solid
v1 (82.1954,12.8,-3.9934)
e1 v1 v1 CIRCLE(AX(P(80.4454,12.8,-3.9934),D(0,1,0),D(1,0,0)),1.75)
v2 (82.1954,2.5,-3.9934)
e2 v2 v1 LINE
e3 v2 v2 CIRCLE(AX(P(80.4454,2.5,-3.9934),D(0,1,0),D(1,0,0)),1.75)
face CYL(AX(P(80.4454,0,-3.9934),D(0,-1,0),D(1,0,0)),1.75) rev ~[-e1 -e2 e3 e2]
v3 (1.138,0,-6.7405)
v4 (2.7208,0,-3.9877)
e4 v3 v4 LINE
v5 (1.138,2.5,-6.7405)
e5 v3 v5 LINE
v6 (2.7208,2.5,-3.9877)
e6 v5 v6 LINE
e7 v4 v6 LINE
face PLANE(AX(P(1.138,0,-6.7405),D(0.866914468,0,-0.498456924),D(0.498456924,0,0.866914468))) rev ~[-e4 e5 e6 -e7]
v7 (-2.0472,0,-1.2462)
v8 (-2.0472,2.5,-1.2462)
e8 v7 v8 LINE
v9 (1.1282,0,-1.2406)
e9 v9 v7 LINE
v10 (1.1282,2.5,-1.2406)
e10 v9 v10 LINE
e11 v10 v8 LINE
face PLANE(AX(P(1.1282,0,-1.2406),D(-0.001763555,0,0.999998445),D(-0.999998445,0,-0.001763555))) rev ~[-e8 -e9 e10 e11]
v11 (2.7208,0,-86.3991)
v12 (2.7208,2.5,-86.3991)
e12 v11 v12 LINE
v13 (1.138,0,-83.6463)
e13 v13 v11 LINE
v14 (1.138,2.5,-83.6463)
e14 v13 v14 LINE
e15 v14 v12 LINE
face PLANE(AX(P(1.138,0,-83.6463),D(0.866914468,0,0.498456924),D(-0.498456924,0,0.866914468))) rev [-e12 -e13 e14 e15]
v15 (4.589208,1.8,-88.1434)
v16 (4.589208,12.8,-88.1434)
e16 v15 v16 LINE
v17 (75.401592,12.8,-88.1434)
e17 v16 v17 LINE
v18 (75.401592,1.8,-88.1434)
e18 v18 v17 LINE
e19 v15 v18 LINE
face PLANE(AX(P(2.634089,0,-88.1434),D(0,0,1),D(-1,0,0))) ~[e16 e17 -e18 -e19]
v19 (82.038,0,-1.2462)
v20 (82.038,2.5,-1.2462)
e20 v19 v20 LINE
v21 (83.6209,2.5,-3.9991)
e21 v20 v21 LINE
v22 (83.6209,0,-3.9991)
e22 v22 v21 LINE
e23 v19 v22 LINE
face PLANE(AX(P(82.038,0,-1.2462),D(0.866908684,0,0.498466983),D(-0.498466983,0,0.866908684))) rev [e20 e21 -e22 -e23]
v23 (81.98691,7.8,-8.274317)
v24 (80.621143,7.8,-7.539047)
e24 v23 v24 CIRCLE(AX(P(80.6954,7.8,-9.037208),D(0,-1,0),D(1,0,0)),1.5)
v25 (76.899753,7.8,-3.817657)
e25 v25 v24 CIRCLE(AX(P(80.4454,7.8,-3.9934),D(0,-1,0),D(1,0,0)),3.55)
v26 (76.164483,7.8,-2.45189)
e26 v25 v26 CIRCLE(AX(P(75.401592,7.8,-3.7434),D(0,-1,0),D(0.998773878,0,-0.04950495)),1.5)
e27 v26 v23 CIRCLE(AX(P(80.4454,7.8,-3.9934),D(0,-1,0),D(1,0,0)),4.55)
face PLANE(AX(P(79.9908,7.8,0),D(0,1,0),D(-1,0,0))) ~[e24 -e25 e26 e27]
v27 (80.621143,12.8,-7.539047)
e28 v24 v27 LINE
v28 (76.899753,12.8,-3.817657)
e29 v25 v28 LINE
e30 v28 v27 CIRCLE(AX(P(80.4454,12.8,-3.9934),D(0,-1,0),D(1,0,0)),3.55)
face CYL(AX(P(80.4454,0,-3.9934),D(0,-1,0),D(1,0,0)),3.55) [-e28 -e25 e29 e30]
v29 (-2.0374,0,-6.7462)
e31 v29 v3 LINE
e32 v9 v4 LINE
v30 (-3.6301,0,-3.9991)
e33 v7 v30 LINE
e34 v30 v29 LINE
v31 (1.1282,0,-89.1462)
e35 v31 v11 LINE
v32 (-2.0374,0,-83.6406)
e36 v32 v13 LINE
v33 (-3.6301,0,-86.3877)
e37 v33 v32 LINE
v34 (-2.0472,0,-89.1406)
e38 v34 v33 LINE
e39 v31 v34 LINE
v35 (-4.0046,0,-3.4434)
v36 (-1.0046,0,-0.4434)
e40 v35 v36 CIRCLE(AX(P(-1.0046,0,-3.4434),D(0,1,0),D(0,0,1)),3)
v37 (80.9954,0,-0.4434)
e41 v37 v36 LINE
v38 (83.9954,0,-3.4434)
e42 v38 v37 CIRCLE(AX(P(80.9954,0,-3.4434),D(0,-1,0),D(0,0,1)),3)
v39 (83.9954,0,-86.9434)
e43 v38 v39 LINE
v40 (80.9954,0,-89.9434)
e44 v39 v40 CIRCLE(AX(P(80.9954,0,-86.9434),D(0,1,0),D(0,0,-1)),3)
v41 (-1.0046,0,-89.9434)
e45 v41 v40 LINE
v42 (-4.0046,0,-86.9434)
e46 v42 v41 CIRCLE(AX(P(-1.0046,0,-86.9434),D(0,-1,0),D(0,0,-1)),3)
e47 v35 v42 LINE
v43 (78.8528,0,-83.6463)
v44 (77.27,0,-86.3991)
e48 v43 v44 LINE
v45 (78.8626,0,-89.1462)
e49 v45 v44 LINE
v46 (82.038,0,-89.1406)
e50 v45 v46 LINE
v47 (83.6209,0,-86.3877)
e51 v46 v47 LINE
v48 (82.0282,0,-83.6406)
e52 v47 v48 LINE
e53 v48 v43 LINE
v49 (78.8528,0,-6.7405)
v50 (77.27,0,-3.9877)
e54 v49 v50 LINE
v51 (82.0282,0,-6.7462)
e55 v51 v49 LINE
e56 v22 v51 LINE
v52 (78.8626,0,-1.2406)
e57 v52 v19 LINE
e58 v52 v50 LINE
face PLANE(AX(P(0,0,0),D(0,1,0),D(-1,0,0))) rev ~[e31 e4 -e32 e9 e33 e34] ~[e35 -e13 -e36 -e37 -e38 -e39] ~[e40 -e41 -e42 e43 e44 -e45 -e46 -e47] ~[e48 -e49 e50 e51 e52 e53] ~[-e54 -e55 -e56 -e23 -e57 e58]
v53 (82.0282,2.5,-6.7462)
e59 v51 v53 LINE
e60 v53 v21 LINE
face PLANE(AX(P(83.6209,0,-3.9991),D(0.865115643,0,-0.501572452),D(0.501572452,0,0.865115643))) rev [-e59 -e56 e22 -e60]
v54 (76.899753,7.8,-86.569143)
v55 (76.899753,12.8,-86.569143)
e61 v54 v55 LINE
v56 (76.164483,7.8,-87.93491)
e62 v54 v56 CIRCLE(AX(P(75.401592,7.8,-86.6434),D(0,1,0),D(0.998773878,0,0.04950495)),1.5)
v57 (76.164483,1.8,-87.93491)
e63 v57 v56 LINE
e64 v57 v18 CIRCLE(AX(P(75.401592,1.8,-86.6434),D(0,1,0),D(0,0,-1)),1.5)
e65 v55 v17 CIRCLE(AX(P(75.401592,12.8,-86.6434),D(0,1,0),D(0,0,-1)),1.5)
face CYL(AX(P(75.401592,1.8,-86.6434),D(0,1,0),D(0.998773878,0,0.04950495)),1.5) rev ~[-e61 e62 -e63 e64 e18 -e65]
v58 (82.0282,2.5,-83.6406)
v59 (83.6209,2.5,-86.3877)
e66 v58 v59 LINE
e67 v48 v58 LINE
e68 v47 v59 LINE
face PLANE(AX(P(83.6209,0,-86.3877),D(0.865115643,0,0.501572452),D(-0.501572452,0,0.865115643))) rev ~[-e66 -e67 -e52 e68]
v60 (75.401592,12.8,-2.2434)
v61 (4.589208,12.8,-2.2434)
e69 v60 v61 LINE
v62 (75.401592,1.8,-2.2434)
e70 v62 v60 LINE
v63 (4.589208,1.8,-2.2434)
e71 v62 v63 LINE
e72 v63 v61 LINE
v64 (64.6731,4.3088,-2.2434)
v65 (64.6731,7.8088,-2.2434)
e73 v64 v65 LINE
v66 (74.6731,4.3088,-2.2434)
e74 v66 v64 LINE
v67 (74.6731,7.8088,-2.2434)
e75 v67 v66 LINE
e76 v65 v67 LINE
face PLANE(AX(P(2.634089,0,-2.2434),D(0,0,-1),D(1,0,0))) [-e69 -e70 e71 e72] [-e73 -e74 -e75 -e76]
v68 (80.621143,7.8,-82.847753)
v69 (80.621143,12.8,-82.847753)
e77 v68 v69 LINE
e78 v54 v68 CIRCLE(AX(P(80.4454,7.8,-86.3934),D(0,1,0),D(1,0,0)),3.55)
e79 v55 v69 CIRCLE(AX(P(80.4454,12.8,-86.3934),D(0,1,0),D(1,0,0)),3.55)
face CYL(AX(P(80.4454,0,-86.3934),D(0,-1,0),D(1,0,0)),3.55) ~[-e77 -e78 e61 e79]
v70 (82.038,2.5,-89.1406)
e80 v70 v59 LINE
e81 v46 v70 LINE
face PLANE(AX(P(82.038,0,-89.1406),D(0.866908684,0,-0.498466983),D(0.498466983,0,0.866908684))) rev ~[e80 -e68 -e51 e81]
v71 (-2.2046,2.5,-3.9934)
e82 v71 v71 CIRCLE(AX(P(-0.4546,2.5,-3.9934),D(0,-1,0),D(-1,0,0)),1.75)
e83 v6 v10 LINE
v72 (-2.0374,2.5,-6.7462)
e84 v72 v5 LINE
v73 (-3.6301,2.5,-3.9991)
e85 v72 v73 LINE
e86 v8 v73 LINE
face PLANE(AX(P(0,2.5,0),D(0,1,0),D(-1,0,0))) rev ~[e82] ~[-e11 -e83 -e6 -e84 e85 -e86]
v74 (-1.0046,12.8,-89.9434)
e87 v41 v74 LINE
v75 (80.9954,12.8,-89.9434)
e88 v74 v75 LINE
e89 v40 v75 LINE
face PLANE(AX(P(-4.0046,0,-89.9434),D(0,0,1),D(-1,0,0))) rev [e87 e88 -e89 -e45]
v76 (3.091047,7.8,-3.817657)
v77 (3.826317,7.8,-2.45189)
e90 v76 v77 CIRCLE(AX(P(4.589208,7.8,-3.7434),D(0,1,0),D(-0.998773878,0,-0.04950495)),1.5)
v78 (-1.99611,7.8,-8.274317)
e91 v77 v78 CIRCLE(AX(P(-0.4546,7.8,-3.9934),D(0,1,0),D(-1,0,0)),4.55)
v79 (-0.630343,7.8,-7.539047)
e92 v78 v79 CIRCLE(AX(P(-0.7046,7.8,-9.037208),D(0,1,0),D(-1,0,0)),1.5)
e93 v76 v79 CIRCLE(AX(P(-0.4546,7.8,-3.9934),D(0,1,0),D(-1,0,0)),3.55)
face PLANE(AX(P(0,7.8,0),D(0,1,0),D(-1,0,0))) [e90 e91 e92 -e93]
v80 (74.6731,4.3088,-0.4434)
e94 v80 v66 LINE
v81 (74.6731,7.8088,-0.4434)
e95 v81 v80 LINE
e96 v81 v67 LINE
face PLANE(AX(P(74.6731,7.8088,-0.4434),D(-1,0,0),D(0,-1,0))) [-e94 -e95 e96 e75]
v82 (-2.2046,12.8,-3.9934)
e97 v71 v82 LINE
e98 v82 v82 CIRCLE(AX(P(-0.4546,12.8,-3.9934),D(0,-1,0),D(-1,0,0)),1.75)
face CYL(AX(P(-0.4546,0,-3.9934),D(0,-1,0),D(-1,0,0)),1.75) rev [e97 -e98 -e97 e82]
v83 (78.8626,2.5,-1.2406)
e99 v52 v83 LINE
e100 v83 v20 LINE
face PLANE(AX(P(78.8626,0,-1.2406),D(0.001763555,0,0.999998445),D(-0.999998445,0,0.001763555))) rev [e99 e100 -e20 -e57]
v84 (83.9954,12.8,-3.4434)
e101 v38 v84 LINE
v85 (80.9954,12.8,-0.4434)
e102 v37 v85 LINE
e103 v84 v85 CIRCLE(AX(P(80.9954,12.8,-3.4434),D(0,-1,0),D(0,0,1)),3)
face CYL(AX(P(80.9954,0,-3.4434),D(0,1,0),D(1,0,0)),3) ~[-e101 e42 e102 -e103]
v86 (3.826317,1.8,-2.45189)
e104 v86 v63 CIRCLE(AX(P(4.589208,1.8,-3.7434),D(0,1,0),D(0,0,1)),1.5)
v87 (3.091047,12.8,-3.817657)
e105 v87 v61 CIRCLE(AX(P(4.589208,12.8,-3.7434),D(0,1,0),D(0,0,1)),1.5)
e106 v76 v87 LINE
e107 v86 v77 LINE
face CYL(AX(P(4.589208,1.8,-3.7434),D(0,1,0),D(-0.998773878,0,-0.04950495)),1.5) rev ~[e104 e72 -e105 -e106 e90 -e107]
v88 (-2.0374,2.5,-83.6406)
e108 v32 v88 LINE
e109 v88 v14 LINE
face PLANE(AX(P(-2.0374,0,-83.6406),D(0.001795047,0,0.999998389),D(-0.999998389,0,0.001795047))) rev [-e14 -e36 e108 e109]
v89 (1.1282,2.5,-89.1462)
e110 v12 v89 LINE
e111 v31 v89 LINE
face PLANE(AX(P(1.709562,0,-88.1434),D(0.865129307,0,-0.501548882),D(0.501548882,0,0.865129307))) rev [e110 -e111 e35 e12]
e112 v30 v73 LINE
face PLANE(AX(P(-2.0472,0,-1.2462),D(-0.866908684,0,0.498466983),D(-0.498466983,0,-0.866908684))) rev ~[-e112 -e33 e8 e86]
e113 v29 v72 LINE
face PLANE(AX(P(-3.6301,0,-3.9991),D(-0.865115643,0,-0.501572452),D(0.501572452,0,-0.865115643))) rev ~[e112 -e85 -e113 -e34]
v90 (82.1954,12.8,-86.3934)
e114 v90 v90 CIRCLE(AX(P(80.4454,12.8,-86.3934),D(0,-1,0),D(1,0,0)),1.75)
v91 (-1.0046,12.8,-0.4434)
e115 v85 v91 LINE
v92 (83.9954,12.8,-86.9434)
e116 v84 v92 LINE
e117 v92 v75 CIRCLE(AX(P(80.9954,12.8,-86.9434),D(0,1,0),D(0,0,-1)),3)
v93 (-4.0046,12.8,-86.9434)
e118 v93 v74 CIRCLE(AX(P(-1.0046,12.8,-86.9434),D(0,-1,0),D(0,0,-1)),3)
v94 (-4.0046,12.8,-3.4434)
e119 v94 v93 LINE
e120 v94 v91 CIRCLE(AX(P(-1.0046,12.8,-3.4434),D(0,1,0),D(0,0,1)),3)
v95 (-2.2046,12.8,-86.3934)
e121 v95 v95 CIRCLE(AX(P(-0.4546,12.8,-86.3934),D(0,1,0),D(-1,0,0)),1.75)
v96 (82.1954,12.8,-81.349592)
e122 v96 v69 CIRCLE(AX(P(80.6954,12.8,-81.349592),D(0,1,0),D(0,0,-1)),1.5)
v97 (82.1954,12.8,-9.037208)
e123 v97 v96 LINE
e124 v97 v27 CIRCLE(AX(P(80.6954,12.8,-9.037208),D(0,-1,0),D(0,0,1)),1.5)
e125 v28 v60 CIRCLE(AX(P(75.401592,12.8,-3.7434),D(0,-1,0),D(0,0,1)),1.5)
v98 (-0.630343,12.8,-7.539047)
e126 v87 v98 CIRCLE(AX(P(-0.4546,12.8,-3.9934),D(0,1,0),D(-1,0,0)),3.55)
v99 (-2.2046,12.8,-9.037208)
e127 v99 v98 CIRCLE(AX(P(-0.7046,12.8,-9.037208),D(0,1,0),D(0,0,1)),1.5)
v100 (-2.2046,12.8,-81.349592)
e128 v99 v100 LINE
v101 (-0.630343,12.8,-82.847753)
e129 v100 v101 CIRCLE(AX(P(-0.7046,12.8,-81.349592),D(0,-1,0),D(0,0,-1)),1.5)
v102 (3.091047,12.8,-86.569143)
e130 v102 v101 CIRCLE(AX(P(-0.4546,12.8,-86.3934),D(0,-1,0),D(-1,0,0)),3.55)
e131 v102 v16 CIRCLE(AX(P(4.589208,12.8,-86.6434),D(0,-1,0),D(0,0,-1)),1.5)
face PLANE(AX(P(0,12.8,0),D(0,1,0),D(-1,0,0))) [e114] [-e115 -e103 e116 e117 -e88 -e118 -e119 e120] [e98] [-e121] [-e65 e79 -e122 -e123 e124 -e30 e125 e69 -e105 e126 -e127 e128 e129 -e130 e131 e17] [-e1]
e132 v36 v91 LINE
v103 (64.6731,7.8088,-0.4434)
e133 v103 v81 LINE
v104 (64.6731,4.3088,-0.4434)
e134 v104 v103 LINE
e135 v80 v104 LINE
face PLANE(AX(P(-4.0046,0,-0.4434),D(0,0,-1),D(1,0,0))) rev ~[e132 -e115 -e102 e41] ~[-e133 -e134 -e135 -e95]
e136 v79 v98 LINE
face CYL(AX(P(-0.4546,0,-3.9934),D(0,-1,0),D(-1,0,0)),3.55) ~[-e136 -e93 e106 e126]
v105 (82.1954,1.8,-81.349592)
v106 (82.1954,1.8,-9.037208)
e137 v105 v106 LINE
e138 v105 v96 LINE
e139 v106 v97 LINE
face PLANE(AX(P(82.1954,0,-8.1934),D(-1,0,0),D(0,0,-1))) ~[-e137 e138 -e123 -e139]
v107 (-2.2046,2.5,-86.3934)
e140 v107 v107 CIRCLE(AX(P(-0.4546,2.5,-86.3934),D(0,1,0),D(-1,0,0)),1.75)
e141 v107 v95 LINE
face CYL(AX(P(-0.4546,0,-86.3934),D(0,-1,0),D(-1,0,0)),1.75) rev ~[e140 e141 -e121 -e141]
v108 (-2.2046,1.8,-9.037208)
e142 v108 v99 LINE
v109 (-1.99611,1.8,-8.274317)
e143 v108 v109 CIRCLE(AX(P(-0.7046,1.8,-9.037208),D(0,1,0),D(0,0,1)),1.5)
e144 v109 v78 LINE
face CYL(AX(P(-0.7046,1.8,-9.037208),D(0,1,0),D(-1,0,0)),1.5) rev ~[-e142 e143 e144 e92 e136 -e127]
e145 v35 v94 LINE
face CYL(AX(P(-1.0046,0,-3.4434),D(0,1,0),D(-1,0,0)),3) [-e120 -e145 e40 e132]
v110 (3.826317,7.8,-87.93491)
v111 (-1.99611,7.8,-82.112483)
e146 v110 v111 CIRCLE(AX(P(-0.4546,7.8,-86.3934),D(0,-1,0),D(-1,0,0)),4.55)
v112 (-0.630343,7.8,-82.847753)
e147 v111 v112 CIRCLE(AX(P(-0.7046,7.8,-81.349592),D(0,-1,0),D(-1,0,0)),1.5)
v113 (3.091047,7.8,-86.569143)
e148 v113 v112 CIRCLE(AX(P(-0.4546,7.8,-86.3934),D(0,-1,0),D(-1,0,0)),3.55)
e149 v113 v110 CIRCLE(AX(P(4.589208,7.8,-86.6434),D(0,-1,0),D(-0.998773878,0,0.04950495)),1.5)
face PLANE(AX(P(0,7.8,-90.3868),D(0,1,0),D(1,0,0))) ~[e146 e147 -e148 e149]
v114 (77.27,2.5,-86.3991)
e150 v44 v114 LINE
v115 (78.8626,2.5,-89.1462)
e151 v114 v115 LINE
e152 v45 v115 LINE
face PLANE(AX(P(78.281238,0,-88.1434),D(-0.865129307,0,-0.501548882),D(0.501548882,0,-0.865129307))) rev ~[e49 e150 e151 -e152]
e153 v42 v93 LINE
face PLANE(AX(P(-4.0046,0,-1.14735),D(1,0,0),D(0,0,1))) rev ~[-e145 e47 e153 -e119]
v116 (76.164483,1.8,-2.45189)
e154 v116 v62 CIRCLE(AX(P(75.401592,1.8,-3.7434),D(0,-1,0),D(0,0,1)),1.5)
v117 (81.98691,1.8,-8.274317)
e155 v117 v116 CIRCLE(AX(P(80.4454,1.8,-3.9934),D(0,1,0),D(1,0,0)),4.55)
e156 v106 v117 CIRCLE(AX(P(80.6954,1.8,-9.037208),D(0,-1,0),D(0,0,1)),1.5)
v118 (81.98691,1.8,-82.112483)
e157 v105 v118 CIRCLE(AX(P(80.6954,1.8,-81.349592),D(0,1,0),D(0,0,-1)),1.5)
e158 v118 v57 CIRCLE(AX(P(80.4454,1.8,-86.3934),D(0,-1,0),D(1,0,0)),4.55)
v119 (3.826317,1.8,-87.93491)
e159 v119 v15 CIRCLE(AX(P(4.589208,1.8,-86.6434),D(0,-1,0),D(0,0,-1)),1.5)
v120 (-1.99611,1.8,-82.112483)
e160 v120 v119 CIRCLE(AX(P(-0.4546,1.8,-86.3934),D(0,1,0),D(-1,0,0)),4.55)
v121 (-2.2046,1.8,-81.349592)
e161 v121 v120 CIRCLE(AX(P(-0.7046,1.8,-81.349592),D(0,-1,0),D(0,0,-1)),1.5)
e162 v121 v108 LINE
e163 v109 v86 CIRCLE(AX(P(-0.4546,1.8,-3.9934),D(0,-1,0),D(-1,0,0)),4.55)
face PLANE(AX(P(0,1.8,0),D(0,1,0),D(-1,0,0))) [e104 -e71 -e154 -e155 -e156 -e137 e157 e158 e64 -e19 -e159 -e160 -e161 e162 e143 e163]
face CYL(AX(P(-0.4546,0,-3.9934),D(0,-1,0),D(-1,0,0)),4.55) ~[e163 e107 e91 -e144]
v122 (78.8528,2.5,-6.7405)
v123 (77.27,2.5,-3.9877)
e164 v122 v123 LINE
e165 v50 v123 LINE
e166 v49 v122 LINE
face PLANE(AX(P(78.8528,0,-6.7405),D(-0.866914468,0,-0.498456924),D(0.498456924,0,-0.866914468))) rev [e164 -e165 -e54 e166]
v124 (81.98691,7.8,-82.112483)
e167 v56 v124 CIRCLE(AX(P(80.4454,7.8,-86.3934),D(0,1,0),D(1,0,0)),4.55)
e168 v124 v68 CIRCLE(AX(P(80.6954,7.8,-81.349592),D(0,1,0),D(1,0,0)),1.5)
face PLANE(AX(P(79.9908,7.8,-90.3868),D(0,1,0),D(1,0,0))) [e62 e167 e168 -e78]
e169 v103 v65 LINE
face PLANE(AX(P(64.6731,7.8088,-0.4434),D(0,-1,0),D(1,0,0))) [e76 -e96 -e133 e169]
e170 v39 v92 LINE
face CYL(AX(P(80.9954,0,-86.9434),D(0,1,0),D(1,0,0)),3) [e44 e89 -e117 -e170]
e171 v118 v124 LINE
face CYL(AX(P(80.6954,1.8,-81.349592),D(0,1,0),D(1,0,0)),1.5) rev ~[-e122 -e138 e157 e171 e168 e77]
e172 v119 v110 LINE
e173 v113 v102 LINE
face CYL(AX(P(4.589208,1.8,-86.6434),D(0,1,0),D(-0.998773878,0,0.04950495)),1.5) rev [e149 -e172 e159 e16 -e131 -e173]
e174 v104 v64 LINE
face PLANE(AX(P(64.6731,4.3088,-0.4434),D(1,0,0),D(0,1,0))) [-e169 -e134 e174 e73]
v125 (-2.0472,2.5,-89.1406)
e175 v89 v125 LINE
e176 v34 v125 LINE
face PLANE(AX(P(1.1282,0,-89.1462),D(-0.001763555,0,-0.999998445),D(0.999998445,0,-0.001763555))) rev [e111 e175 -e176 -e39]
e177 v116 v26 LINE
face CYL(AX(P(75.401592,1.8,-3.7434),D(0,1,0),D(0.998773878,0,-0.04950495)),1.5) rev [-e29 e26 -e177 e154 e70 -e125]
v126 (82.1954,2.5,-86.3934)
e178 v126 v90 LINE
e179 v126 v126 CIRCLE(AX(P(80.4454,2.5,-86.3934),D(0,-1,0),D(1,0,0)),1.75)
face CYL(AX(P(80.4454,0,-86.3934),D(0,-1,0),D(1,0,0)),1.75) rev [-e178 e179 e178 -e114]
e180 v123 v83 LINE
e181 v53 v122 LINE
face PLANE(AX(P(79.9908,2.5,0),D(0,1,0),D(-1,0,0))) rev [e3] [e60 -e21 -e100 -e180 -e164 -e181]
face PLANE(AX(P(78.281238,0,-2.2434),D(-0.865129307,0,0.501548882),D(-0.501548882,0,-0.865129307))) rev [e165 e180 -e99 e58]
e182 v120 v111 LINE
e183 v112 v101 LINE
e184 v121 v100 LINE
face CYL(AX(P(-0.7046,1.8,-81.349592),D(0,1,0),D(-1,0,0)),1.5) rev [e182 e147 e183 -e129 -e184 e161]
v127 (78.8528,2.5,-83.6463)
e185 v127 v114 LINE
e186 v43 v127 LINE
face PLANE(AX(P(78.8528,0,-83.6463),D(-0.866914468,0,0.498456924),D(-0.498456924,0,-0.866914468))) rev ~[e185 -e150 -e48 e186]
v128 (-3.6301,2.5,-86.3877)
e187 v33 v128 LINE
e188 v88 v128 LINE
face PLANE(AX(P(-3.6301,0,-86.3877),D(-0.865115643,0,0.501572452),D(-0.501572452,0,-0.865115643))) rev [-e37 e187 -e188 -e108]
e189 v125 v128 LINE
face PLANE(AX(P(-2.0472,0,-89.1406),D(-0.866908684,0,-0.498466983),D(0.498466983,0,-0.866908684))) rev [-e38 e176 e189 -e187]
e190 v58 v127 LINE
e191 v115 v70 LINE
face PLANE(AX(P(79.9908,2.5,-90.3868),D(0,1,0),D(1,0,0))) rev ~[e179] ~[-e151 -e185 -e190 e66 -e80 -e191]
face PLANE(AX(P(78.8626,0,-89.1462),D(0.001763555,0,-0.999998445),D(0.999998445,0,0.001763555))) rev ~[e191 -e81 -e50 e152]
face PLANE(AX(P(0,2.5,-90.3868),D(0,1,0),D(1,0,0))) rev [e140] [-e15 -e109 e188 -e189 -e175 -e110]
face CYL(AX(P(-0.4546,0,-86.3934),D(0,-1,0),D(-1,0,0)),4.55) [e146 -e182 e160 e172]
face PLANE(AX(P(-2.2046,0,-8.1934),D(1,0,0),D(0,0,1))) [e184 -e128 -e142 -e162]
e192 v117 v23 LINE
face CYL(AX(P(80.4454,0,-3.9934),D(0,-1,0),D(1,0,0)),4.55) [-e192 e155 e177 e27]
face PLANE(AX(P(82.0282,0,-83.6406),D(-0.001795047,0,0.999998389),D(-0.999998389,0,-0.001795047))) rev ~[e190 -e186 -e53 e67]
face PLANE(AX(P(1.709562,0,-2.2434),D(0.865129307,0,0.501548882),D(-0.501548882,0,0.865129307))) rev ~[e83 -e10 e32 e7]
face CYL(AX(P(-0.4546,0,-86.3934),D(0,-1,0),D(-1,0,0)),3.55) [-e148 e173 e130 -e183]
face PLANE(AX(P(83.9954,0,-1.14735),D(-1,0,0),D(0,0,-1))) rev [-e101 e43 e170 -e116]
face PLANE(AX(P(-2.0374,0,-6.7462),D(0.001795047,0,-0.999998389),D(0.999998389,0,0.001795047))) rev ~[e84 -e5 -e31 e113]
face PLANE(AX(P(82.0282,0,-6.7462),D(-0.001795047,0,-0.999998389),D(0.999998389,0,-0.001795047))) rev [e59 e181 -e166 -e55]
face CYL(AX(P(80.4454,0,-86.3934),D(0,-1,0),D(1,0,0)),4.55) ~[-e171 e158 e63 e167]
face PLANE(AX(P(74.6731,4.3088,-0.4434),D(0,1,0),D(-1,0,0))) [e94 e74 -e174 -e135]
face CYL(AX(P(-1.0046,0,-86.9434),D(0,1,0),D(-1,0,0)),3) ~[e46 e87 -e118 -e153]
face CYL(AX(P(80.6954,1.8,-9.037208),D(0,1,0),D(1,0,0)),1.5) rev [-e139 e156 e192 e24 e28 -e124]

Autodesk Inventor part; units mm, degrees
ref_plane "YZ Plane" through (0, 0, 0) normal (1, 0, 0) x (0, 1, 0)
ref_plane "XZ Plane" through (0, 0, 0) normal (0, 1, 0) x (-1, 0, 0)
ref_plane "XY Plane" through (0, 0, 0) normal (0, 0, 1) x (1, 0, 0)
sketch "bottom" plane through (0, 0, 0) normal (0, 1, 0) x (-1, 0, 0)
  line L0 (4.0046, -0.4434) -> (-83.9954, -0.4434)
  line L1 (-83.9954, -0.4434) -> (-83.9954, -89.9434)
  line L2 (-83.9954, -89.9434) -> (4.0046, -89.9434)
  line L3 (4.0046, -89.9434) -> (4.0046, -0.4434)
  line L4 (2.2046, -2.2434) -> (-82.1954, -2.2434)
  line L5 (-82.1954, -2.2434) -> (-82.1954, -88.1434)
  line L6 (-82.1954, -88.1434) -> (2.2046, -88.1434)
  line L7 (2.2046, -88.1434) -> (2.2046, -2.2434)
  circle A0 centre (0.4546, -3.9934) radius 3.55
  line L8 (-39.9954, -123.8489) -> (-39.9954, 33.4211)
  line L9 (23.3841, -45.1934) -> (-117.3219, -45.1934)
  circle A1 centre (0.4546, -3.9934) radius 1.75
  circle A2 centre (-80.4454, -3.9934) radius 3.55
  circle A3 centre (-80.4454, -3.9934) radius 1.75
  circle A4 centre (0.4546, -86.3934) radius 1.75
  circle A5 centre (0.4546, -86.3934) radius 3.55
  circle A6 centre (-80.4454, -86.3934) radius 1.75
  circle A7 centre (-80.4454, -86.3934) radius 3.55
  line L10 (3.6301, -3.9991) -> (2.0374, -6.7462)
  line L11 (2.0374, -6.7462) -> (-1.138, -6.7405)
  line L12 (-1.138, -6.7405) -> (-2.7208, -3.9877)
  line L13 (-2.7208, -3.9877) -> (-1.1282, -1.2406)
  line L14 (-1.1282, -1.2406) -> (2.0472, -1.2462)
  line L15 (2.0472, -1.2462) -> (3.6301, -3.9991)
  circle A8 centre (0.4546, -3.9934) radius 4.55
  point P0 (0, 0)
  point P1 (-39.9954, -45.1934)
  point P2 (-2.6341, -2.2434)
  point P3 (2.2046, -7.0821)
  point P4 (2.2046, -83.3047)
  point P5 (-2.6341, -88.1434)
  point P6 (-77.3567, -88.1434)
  point P7 (-82.1954, -83.3047)
  point P8 (-82.1954, -7.0821)
  point P9 (-77.3567, -2.2434)
  point P10 (-39.9954, -0.4434)
  point P11 (-39.9954, -2.2434)
  point P12 (2.2046, -45.1934)
  point P13 (4.0046, -45.1934)
  point P14 (-39.9954, -45.1934)
  point P15 (-3.7454, -2.2434)
  point P16 (2.2046, -8.1934)
  dimension "d0" = 88
  dimension "d1" = 89.5
  dimension "d2" = 84.4
  dimension "d3" = 85.9
  dimension "d4" = 1.8
  dimension "d5" = 1.8
  dimension "d6" = 7.1
  dimension "d7" = 3.55
  dimension "d8" = 3.55
  dimension "d9" = 3.5
  dimension "d10" = 88
  dimension "d11" = 89.5
  dimension "d12" = 44.75
  dimension "d13" = 44
  dimension "d33" = 2.75
  dimension "d36" = 9.1
ref_plane "Work Plane3" through (39.9954, 0, -45.1934) normal (0, 0, 1) x (1, 0, 0)
ref_plane "Work Plane4" through (39.9954, 0, -45.1934) normal (1, 0, 0) x (0, 1, 0)
extrude "Extrusion4" add sketch "bottom" along normal blind 12.8 contours L3 A8 L0 | A8 L3 A0 L0 | A0 L4 A8 L0 | A0 L7 L10 L15 L14 L13 L4 | A8 L4 L8 L0 | L3 A8 L7 A0 | L4 L13 L12 L11 L10 L7 A0 | L3 L9 L7 A8 | L13 L14 L15 L10 L7 L4 | L4 A1 L7 L10 L11 L12 L13 | L4 L7 A1
extrude "Extrusion5" add sketch "bottom" along normal blind 1.8 contours A0 L7 A8 L4 | A8 L7 L9 L8 L4
fillet "Fillet3" radius 3 1 edges at (-4.0046, 6.4, -0.4434)
fillet "Fillet4" radius 1.5 2 edges at (-2.2046, 7.3, -7.0821) (2.6341, 7.3, -2.2434)
extrude "Extrusion6" cut sketch "bottom" along normal blind 2.5 contours L13 L14 L15 L10 L7 L4 | L4 A1 L7 L10 L11 L12 L13 | L4 L7 A1
extrude "pcb hight" add sketch "bottom" along normal blind 7.8 contours A0 L7 A8 L4
mirror "Mirror3" about plane through (39.9954, 0, -45.1934) normal (0, 0, 1)
mirror "Mirror4" about plane through (39.9954, 0, -45.1934) normal (1, 0, 0)
sketch "Sketch4" plane through (-1.0046, 0, -0.4434) normal (0, 0, 1) x (1, 0, 0)
  line L0 (65.6777, 7.8088) -> (75.6777, 7.8088)
  line L1 (75.6777, 7.8088) -> (75.6777, 4.3088)
  line L2 (75.6777, 4.3088) -> (65.6777, 4.3088)
  line L3 (65.6777, 4.3088) -> (65.6777, 7.8088)
  point P0 (1.0046, 0)
  dimension "d39" = 10
  dimension "d40" = 3.5
extrude "Extrusion8" cut sketch "Sketch4" against normal blind 1.8
equation "\"d2\" = d0 - 2 * d4"
equation "\"d3\" = d1 - 2 * d5"
equation "\"d5\" = d4"
equation "\"d6\" = 2 * d4 + d9"
equation "\"d7\" = 0.5 * d6"
equation "\"d8\" = 0.5 * d6"
equation "\"d10\" = d0"
equation "\"d11\" = d1"
equation "\"d12\" = 0.5 * d1"
equation "\"d13\" = 0.5 * d0"
equation "\"d29\" = d4"
properties part number "base"
